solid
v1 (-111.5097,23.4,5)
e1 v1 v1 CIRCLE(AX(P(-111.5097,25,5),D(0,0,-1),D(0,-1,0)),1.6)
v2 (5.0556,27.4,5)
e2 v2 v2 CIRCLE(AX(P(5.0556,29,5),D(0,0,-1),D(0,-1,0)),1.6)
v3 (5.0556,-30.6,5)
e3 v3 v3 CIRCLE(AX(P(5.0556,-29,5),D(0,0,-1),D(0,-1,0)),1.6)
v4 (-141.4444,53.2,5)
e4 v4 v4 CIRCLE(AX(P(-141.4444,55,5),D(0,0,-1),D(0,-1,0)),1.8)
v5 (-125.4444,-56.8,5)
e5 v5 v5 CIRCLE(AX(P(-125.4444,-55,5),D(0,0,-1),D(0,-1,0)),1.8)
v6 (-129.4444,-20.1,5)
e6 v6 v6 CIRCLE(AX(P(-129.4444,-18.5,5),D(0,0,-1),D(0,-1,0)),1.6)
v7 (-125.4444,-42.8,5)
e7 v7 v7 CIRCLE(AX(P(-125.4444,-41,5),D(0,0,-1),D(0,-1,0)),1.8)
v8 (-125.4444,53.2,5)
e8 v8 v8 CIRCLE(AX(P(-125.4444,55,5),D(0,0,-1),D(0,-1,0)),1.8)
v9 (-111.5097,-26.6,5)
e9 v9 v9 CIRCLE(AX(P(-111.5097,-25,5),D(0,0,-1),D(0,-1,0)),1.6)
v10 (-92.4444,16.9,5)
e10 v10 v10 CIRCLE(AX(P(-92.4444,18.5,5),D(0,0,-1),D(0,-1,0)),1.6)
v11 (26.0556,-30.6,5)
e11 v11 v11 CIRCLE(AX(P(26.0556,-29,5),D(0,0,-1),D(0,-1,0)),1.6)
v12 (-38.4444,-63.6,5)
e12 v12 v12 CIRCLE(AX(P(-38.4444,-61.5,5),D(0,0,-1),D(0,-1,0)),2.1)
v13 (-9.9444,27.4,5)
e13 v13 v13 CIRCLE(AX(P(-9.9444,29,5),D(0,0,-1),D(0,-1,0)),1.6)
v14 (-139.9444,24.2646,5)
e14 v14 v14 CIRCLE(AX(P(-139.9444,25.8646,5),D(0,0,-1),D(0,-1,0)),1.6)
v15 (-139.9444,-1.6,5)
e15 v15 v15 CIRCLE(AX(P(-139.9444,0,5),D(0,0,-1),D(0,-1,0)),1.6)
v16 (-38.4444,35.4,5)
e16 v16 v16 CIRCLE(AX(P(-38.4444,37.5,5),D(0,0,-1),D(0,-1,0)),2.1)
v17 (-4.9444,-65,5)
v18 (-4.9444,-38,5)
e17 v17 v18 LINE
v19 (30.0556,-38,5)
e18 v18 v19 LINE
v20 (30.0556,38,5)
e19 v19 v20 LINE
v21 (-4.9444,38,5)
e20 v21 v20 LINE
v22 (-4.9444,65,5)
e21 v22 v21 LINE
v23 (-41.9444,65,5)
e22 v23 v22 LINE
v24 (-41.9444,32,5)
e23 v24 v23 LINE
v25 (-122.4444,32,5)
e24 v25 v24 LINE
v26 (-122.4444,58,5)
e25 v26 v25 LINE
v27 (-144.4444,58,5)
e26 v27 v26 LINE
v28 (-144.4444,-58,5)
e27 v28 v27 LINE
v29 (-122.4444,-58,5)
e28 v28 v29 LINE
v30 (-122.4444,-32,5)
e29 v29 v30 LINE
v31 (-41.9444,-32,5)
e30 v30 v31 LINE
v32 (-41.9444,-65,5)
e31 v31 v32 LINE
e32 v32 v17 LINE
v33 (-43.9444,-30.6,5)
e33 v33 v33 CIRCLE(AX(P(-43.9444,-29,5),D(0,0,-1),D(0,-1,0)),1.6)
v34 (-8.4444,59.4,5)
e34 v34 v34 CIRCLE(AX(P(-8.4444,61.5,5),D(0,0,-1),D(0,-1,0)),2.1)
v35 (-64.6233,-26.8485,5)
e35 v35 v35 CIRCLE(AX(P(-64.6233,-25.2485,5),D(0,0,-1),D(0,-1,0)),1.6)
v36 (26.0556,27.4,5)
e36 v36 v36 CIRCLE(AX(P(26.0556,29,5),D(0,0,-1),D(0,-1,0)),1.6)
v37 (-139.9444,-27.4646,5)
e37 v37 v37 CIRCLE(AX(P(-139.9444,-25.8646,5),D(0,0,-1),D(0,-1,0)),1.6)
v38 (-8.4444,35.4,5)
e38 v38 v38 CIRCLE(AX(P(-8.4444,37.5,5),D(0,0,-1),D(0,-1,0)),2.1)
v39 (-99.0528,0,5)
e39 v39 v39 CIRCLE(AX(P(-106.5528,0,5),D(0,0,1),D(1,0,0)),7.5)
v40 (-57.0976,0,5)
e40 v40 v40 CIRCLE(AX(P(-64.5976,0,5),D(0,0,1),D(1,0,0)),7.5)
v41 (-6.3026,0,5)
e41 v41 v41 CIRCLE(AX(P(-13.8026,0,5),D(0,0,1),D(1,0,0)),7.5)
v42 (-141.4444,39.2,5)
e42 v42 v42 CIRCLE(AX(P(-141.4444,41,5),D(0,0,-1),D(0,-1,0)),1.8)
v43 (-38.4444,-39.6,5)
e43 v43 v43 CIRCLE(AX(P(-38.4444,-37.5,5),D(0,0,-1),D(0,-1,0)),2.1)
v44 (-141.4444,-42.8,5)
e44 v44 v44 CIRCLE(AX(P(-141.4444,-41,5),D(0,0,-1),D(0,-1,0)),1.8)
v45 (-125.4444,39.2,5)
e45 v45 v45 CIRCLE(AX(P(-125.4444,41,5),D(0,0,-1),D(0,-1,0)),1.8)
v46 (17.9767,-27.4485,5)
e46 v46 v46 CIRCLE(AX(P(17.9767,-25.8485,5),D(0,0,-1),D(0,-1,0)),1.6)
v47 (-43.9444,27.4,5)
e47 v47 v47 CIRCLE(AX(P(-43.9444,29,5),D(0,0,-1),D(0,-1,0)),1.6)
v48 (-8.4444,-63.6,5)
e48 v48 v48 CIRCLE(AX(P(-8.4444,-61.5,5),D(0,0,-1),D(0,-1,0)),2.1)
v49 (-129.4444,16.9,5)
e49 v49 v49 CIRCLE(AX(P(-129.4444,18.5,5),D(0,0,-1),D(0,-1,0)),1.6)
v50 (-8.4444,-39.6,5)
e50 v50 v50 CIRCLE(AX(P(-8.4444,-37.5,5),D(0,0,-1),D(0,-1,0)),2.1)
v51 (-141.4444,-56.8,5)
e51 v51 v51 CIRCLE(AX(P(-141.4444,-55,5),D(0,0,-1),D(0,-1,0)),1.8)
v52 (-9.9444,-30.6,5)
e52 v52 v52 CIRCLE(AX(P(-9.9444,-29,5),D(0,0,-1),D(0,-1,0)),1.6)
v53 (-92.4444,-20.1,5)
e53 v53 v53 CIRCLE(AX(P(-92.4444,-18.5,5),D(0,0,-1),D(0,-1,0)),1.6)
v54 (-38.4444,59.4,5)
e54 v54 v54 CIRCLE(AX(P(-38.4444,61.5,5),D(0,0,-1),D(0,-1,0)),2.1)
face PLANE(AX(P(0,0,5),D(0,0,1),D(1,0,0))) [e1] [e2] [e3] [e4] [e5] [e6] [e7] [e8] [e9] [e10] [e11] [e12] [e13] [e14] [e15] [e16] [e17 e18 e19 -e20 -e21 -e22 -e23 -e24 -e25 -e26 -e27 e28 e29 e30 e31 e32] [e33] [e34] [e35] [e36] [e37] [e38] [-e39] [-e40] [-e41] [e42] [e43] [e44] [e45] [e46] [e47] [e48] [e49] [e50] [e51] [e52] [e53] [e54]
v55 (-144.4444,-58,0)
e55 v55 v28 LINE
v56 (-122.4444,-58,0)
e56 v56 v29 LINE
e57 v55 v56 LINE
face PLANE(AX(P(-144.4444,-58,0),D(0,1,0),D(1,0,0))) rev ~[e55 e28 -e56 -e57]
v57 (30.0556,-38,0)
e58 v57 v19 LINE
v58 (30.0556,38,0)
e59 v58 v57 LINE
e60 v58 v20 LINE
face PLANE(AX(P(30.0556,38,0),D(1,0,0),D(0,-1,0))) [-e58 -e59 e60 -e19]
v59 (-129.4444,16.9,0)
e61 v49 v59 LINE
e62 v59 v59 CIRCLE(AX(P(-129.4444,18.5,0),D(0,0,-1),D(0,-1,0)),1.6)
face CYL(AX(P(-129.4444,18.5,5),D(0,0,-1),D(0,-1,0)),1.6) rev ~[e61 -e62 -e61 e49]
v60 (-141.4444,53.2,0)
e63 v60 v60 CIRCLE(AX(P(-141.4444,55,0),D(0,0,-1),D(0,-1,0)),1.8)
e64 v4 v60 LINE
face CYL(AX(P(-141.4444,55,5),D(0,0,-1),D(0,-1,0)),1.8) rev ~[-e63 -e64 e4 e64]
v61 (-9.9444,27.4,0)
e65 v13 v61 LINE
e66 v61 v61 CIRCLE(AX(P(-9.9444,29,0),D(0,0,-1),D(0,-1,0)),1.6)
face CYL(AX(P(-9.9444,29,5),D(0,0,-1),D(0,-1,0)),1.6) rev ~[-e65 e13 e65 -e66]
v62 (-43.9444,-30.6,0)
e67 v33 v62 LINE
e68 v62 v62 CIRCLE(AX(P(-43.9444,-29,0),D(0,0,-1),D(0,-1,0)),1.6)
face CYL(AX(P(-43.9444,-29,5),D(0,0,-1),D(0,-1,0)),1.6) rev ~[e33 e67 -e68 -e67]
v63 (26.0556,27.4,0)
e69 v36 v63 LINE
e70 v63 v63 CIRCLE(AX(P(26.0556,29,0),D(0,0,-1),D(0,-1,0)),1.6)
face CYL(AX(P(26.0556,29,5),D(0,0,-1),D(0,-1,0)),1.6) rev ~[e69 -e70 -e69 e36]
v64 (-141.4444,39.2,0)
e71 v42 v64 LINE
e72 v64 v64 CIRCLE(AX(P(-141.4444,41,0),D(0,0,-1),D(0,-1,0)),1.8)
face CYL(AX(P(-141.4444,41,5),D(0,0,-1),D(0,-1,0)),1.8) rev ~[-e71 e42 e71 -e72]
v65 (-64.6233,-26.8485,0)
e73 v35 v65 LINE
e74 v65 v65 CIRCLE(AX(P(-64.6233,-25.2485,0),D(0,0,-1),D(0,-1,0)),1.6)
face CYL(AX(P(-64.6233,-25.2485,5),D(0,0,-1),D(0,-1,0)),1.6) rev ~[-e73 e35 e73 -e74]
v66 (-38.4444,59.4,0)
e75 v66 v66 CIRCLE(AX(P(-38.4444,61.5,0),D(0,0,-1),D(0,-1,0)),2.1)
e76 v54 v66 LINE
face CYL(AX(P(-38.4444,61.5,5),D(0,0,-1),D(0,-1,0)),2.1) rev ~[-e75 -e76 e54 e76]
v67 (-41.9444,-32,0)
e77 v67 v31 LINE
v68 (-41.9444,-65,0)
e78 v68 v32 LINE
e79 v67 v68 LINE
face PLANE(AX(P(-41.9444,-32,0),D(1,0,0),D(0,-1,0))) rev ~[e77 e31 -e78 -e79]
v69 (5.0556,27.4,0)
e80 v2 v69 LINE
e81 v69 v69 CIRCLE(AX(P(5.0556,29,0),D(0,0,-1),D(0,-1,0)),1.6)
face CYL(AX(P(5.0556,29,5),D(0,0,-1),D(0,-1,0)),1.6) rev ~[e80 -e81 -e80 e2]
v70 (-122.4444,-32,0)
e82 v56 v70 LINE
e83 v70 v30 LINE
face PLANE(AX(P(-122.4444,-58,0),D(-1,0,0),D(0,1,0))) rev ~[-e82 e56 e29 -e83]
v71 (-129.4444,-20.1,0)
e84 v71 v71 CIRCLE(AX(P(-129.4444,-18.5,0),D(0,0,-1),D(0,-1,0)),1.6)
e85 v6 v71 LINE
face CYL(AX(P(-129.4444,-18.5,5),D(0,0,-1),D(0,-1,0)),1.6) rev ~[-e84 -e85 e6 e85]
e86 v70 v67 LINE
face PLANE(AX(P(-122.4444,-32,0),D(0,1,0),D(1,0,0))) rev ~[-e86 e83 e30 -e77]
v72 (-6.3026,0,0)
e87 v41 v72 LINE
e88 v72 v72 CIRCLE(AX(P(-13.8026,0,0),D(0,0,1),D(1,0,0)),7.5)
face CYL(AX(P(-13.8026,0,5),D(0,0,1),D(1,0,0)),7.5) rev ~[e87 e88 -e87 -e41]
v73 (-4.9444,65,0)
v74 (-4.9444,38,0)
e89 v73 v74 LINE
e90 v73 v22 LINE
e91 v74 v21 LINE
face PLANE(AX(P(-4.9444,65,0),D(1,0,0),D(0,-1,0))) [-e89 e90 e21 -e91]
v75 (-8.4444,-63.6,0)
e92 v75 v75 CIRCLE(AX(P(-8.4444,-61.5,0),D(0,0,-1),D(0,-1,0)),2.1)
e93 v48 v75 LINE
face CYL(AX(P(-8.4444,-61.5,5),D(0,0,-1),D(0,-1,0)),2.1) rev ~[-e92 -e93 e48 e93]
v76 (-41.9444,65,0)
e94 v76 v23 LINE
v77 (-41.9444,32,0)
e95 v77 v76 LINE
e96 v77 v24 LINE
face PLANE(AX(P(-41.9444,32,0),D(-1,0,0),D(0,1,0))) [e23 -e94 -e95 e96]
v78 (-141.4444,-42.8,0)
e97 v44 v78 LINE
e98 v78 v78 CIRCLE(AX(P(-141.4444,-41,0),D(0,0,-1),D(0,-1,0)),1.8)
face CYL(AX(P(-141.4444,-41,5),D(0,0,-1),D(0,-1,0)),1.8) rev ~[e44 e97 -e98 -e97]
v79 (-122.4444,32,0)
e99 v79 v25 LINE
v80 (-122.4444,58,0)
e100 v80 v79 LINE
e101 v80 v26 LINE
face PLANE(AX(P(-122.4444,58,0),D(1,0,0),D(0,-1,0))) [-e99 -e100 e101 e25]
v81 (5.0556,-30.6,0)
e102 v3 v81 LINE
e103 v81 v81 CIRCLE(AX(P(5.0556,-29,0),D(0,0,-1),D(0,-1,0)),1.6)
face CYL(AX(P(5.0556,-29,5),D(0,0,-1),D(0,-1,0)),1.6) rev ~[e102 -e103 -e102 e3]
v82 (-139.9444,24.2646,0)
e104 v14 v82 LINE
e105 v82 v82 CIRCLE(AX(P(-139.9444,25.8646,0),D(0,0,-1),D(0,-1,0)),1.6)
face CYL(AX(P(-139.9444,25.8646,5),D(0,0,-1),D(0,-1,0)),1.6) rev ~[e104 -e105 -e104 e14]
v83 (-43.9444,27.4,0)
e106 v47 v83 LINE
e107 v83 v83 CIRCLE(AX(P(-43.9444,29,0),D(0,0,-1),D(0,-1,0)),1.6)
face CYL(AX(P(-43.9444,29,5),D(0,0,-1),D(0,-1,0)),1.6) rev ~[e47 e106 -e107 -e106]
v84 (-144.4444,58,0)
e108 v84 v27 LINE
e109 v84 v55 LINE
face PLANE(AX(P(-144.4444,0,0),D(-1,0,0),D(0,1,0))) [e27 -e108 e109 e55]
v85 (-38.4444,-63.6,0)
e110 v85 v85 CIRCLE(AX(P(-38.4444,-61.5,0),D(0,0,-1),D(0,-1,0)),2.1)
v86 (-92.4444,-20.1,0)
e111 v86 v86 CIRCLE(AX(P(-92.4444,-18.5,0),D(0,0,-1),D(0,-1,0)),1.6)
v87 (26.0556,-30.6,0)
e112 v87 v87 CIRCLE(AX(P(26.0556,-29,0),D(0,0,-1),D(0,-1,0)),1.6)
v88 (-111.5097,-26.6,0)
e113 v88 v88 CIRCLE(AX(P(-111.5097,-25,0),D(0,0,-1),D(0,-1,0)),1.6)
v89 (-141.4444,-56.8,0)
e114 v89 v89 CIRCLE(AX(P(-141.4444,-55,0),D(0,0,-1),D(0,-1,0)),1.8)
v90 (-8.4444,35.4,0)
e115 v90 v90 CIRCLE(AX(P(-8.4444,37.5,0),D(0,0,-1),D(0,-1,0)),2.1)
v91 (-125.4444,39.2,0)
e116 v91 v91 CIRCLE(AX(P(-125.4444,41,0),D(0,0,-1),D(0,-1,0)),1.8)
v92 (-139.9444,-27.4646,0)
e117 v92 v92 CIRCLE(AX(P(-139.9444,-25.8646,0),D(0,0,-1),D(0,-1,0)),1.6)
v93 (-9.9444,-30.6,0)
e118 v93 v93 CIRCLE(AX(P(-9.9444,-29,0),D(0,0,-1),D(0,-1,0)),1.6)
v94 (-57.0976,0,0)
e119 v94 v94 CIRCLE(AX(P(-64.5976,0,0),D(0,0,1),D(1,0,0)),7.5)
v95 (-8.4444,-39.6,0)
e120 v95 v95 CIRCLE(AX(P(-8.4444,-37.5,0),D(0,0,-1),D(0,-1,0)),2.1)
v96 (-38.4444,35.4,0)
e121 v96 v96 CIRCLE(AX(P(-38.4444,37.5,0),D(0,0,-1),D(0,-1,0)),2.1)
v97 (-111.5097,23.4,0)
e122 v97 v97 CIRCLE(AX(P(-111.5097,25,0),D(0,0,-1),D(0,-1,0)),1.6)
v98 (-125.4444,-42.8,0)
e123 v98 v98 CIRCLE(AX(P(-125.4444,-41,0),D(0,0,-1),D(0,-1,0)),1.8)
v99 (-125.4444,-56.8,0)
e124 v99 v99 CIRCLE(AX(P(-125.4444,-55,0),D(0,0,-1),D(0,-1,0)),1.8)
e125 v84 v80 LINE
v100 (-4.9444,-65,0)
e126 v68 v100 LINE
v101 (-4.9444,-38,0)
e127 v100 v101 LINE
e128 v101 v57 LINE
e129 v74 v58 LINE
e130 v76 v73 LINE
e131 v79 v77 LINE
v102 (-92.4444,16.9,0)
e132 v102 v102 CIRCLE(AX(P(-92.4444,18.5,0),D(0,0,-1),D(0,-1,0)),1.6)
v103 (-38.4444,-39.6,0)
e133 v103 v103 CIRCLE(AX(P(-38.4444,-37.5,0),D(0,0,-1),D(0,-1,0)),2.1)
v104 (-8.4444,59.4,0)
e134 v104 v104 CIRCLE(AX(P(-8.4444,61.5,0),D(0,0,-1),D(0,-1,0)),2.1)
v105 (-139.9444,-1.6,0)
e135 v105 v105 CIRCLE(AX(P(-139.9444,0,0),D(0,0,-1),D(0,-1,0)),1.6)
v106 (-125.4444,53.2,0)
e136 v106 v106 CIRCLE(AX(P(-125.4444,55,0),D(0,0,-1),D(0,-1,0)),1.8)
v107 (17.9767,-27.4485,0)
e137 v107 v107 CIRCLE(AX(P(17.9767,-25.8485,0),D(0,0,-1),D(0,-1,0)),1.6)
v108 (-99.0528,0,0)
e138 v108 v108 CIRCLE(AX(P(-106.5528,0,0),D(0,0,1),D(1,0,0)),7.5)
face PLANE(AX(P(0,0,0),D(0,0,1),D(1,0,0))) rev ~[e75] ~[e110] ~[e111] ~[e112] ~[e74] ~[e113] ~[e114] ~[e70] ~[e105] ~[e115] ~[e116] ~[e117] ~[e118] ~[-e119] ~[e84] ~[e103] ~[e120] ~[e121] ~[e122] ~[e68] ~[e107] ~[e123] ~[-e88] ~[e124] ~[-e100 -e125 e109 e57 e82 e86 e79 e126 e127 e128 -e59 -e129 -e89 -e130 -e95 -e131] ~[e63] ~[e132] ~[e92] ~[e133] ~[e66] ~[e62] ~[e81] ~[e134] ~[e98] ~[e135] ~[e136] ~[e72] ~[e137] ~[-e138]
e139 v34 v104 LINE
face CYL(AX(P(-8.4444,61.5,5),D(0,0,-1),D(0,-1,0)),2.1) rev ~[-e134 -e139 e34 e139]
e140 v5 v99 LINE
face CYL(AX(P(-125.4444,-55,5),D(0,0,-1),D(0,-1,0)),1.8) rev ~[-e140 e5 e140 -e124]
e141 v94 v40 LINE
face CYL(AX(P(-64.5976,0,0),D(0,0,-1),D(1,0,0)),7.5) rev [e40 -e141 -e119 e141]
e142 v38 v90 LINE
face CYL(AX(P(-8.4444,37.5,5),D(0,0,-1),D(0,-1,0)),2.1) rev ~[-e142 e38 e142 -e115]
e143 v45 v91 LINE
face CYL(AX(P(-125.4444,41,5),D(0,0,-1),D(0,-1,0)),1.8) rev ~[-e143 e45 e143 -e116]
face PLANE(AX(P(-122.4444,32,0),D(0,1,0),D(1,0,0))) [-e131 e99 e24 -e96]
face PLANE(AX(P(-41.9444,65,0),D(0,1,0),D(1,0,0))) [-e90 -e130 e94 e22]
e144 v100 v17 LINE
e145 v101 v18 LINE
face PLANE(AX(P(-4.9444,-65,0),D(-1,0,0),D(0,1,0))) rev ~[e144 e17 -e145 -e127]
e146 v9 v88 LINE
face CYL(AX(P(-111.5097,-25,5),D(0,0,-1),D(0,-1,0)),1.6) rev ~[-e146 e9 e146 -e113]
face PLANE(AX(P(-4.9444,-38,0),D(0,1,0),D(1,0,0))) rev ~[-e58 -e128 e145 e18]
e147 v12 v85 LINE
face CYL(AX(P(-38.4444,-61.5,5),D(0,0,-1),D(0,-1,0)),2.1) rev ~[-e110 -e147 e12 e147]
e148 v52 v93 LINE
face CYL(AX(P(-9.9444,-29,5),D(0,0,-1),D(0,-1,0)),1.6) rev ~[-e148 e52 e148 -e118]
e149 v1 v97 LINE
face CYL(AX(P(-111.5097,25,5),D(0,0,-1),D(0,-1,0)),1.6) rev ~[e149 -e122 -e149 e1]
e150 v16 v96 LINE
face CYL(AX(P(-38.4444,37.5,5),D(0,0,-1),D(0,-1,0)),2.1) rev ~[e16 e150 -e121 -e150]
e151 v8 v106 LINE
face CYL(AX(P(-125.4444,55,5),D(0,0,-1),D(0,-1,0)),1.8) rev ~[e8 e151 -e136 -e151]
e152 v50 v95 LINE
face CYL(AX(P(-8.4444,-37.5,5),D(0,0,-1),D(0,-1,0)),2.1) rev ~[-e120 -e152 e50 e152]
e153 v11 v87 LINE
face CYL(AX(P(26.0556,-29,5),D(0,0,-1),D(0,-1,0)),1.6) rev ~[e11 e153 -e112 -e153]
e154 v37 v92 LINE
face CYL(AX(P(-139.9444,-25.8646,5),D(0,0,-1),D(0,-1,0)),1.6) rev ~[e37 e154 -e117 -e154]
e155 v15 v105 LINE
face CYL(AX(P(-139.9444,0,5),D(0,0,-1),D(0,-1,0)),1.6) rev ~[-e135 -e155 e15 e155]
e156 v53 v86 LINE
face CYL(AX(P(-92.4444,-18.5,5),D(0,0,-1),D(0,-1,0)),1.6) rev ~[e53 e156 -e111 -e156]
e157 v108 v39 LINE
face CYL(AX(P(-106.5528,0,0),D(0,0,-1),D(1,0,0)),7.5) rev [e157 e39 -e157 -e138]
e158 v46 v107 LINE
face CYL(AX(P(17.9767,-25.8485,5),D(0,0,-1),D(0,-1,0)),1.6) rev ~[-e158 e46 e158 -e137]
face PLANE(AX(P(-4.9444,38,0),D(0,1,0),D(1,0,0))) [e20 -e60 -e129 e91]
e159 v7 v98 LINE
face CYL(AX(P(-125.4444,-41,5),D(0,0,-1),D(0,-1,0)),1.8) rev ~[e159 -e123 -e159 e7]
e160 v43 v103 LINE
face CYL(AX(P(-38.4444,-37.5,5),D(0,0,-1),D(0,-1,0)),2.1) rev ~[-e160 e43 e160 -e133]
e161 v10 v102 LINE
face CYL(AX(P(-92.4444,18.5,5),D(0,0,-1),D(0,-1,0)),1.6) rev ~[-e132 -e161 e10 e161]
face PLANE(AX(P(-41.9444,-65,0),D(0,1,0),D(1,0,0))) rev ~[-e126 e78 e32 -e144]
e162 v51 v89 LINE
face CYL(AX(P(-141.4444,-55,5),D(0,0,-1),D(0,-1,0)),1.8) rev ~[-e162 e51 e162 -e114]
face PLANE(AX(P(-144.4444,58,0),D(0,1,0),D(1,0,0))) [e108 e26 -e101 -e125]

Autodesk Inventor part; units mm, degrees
ref_plane "YZ Plane" through (0, 0, 0) normal (1, 0, 0) x (0, 1, 0)
ref_plane "XZ Plane" through (0, 0, 0) normal (0, 1, 0) x (-1, 0, 0)
ref_plane "XY Plane" through (0, 0, 0) normal (0, 0, 1) x (1, 0, 0)
sketch "草图1" plane through (0, 0, 0) normal (0, 0, 1) x (1, 0, 0)
  line L0 (-144.4444, 0) -> (-144.4444, 58)
  line L1 (-144.4444, 58) -> (-122.4444, 58)
  line L2 (-122.4444, 58) -> (-122.4444, 32)
  line L3 (-122.4444, 32) -> (-41.9444, 32)
  line L4 (-41.9444, 32) -> (-41.9444, 65)
  line L5 (-41.9444, 65) -> (-4.9444, 65)
  line L6 (-4.9444, 65) -> (-4.9444, 38)
  line L7 (-4.9444, 38) -> (30.0556, 38)
  line L8 (30.0556, 38) -> (30.0556, 0)
  line L9 (0, 0) -> (-166.6667, 0) construction
  line L10 (-144.4444, 0) -> (-144.4444, -58)
  line L11 (-144.4444, -58) -> (-122.4444, -58)
  line L12 (-122.4444, -58) -> (-122.4444, -32)
  line L13 (-122.4444, -32) -> (-41.9444, -32)
  line L14 (-41.9444, -32) -> (-41.9444, -65)
  line L15 (-41.9444, -65) -> (-4.9444, -65)
  line L16 (-4.9444, -65) -> (-4.9444, -38)
  line L17 (-4.9444, -38) -> (30.0556, -38)
  line L18 (30.0556, -38) -> (30.0556, 0)
  circle A0 centre (-106.5528, 0) radius 7.5
  circle A1 centre (-64.5976, 0) radius 7.5
  point P0 (-141.4444, -54)
  point P1 (-127.4444, -54)
  point P2 (-27.9137, -54)
  point P3 (-14.1378, -54)
  point P4 (-112.1204, -28)
  point P5 (-64.5976, -28)
  point P6 (-89.6514, -28)
  point P7 (-127.4444, -38)
  point P8 (-141.4444, -38)
  point P9 (-27.9137, -38)
  point P10 (-14.3619, -38)
  point P11 (-141.4444, 54)
  point P12 (-127.4444, 54)
  point P13 (-127.4444, 38)
  point P14 (-141.4444, 38)
  point P15 (-27.9137, 54)
  point P16 (-27.9137, 38)
  point P17 (-14.1378, 54)
  point P18 (-14.3619, 38)
  point P19 (-64.5976, 28)
  point P20 (-89.6514, 28)
  point P21 (-112.1204, 28)
  point P22 (-133.4444, 58)
  point P23 (-23.4444, 65)
  dimension "d0" = 22
  dimension "d1" = 37
  dimension "d3" = 32
  dimension "d4" = 38
  dimension "d5" = 35
  dimension "d6" = 58
  dimension "d7" = 15
  dimension "d8" = 15
  dimension "d29" = 28
  dimension "d30" = 28
  dimension "d31" = 28
  dimension "d36" = 110
  dimension "d96" = 33
extrude "拉伸1" add sketch "草图1" along normal blind 5
sketch "草图2" plane through (0, 0, 5) normal (0, 0, 1) x (1, 0, 0)
  circle A0 centre (-64.5976, 0) radius 7.5 construction
  circle A1 centre (-106.5528, 0) radius 7.5 construction
  line L0 (-144.4444, -58) -> (-144.4444, 58) construction
  line L1 (-144.4444, 58) -> (-122.4444, 58) construction
  line L2 (-122.4444, 58) -> (-122.4444, 32) construction
  line L3 (-122.4444, 32) -> (-41.9444, 32) construction
  line L4 (-41.9444, 32) -> (-41.9444, 65) construction
  line L5 (-41.9444, 65) -> (-4.9444, 65) construction
  line L6 (-4.9444, 65) -> (-4.9444, 38) construction
  line L7 (-4.9444, 38) -> (30.0556, 38) construction
  line L8 (30.0556, 38) -> (30.0556, -38) construction
  line L9 (30.0556, -38) -> (-4.9444, -38) construction
  line L10 (-4.9444, -38) -> (-4.9444, -65) construction
  line L11 (-4.9444, -65) -> (-41.9444, -65) construction
  line L12 (-41.9444, -65) -> (-41.9444, -32) construction
  line L13 (-41.9444, -32) -> (-122.4444, -32) construction
  line L14 (-122.4444, -32) -> (-122.4444, -58) construction
  line L15 (-122.4444, -58) -> (-144.4444, -58) construction
  line L16 (-164.7255, 0) -> (-80.9793, 0) construction
  point P0 (0, 0)
  point P1 (-141.4444, 55)
  point P2 (-125.4444, 55)
  point P3 (-38.4444, 61.5)
  point P4 (-8.4444, 61.5)
  point P5 (-38.4444, 37.5)
  point P6 (-8.4444, 37.5)
  point P7 (-125.4444, 41)
  point P8 (-141.4444, 41)
  point P9 (-141.4444, -55)
  point P10 (-125.4444, -55)
  point P11 (-38.4444, -61.5)
  point P12 (-8.4444, -61.5)
  point P13 (-38.4444, -37.5)
  point P14 (-8.4444, -37.5)
  point P15 (-125.4444, -41)
  point P16 (-141.4444, -41)
  dimension "d32" = 3
  dimension "d33" = 3
  dimension "d34" = 16
  dimension "d37" = 3
  dimension "d38" = 14
  dimension "d39" = 3
  dimension "d40" = 14
  dimension "d42" = 30
  dimension "d43" = 30
  dimension "d44" = 24
  dimension "d45" = 3.5
  dimension "d46" = 3.5
  dimension "d47" = 3.5
  dimension "d95" = 16
hole "孔2" at (-141.4444, 55, 5) at (-125.4444, 55, 5) at (-125.4444, 41, 5) at (-141.4444, 41, 5) at (-141.4444, -41, 5) at (-125.4444, -41, 5) at (-125.4444, -55, 5) at (-141.4444, -55, 5) direction (0, 0, -1) diameter 3.6 end through all
sketch "草图3" plane through (0, 0, 5) normal (0, 0, 1) x (1, 0, 0)
  circle A0 centre (-125.4444, -55) radius 1.8 construction
  circle A1 centre (-141.4444, -55) radius 1.8 construction
  circle A2 centre (-125.4444, 41) radius 1.8 construction
  circle A3 centre (-141.4444, 55) radius 1.8 construction
  circle A4 centre (-125.4444, 55) radius 1.8 construction
  circle A5 centre (-141.4444, 41) radius 1.8 construction
  circle A6 centre (-141.4444, -41) radius 1.8 construction
  circle A7 centre (-125.4444, -41) radius 1.8 construction
  circle A8 centre (-64.5976, 0) radius 7.5 construction
  circle A9 centre (-106.5528, 0) radius 7.5 construction
  line L0 (-144.4444, 58) -> (-144.4444, -58) construction
  line L1 (-144.4444, -58) -> (-122.4444, -58) construction
  line L2 (-122.4444, -58) -> (-122.4444, -32) construction
  line L3 (-122.4444, -32) -> (-41.9444, -32) construction
  line L4 (-41.9444, -32) -> (-41.9444, -65) construction
  line L5 (-41.9444, -65) -> (-4.9444, -65) construction
  line L6 (-4.9444, -65) -> (-4.9444, -38) construction
  line L7 (-4.9444, -38) -> (30.0556, -38) construction
  line L8 (30.0556, -38) -> (30.0556, 38) construction
  line L9 (30.0556, 38) -> (-4.9444, 38) construction
  line L10 (-4.9444, 38) -> (-4.9444, 65) construction
  line L11 (-4.9444, 65) -> (-41.9444, 65) construction
  line L12 (-41.9444, 65) -> (-41.9444, 32) construction
  line L13 (-41.9444, 32) -> (-122.4444, 32) construction
  line L14 (-122.4444, 32) -> (-122.4444, 58) construction
  line L15 (-122.4444, 58) -> (-144.4444, 58) construction
  line L16 (0, 0) -> (-184.5407, 0) construction
  point P0 (-139.9444, 25.8646)
  point P1 (-139.9444, 10.9473)
  point P2 (-108.7515, 25.8646)
  point P3 (-89.9847, 25.8646)
  point P4 (-70.7366, 25.8646)
  point P5 (-139.9444, -25.8646)
  point P6 (-139.9444, -10.9473)
  point P7 (-108.7515, -25.8646)
  point P8 (-89.9847, -25.8646)
  point P9 (-70.7366, -25.8646)
  point P10 (-139.9444, 0)
hole "孔3" at (-139.9444, 25.8646, 5) at (-139.9444, -25.8646, 5) at (-139.9444, 0, 5) direction (0, 0, -1) diameter 3.2 end through all
sketch "草图4" plane through (0, 0, 5) normal (0, 0, 1) x (1, 0, 0)
  circle A0 centre (-13.8026, 0) radius 7.5
  line L0 (0, 0) -> (-54.2498, 0) construction
  line L1 (-144.4444, 58) -> (-144.4444, -58) construction
  line L2 (30.0556, -38) -> (30.0556, 38) construction
  point P0 (-19.9444, 18.5)
  point P1 (17.0556, 18.5)
  point P2 (9.0556, 35)
  point P3 (-19.9444, -18.5)
  point P4 (17.0556, -18.5)
  point P5 (9.0556, -35)
  point P6 (-65.2677, 13.1999)
  point P7 (-65.2677, -14.7401)
  dimension "d62" = 15
  dimension "d67" = 37
  dimension "d68" = 50
  dimension "d69" = 18.5
  dimension "d70" = 35
  dimension "d71" = 21
  dimension "d94" = 27.94
extrude "拉伸2" cut sketch "草图4" against normal through all
sketch "草图5" plane through (0, 0, 5) normal (0, 0, 1) x (1, 0, 0)
  line L0 (30.0556, -38) -> (30.0556, 38) projected
  line L1 (0, 0) -> (-47.6944, 0) construction
  point P0 (26.0556, 29)
  point P1 (-43.9444, 29)
  point P2 (-43.7151, 20)
  point P3 (26.0556, -29)
  point P4 (-43.9444, -29)
  point P5 (-43.7151, -20)
  dimension "d81" = 70
  dimension "d83" = 4
  dimension "d84" = 29
  dimension "d85" = 20
  dimension "d86" = 29
hole "孔5" at (-43.9444, 29, 5) at (-43.9444, -29, 5) at (26.0556, 29, 5) at (26.0556, -29, 5) direction (0, 0, -1) diameter 3.2 end through all
hole "孔6" at (-38.4444, 61.5, 5) at (-8.4444, 61.5, 5) at (-38.4444, 37.5, 5) at (-8.4444, 37.5, 5) at (-38.4444, -37.5, 5) at (-8.4444, -37.5, 5) at (-8.4444, -61.5, 5) at (-38.4444, -61.5, 5) direction (0, 0, -1) diameter 4.2 end through all
sketch "草图6" plane through (0, 0, 5) normal (0, 0, 1) x (1, 0, 0)
  line L0 (-144.4444, 58) -> (-144.4444, -58) projected
  line L1 (0, 0) -> (-40.7503, 0) construction
  point P0 (-129.4444, 18.5)
  point P1 (-92.4444, 18.5)
  point P2 (-129.4444, -18.5)
  point P3 (-92.4444, -18.5)
  dimension "d104" = 15
  dimension "d105" = 37
  dimension "d106" = 18.5
  dimension "d107" = 18.5
hole "孔7" at (-129.4444, 18.5, 5) at (-92.4444, 18.5, 5) at (-129.4444, -18.5, 5) at (-92.4444, -18.5, 5) direction (0, 0, -1) diameter 3.2 end through all
sketch "草图7" plane through (0, 0, 5) normal (0, 0, 1) x (1, 0, 0)
  point P0 (0, 0)
  point P1 (11.1767, 22.7515)
  point P2 (17.9767, -25.8485)
  point P3 (-62.1233, 22.7515)
  point P4 (-64.6233, -25.2485)
  dimension "d115" = 48.6
  dimension "d116" = 6.8
  dimension "d117" = 73.3
  dimension "d118" = 48
  dimension "d119" = 2.5
hole "孔8" at (-64.6233, -25.2485, 5) at (17.9767, -25.8485, 5) direction (0, 0, -1) diameter 3.2 end through all
sketch "草图8" plane through (0, 0, 5) normal (0, 0, 1) x (1, 0, 0)
  line L0 (30.0556, 38) -> (-4.9444, 38) projected
  line L1 (0, 0) -> (93.7016, 0) construction
  line L2 (30.0556, -38) -> (30.0556, 38) projected
  line L3 (-41.9444, 32) -> (-122.4444, 32) projected
  point P0 (5.0556, 29)
  point P1 (-9.9444, 29)
  point P2 (5.0556, -29)
  point P3 (-9.9444, -29)
  point P4 (-111.5097, 25)
  point P5 (-111.5097, -25)
  dimension "d127" = 15
  dimension "d128" = 9
  dimension "d129" = 9
  dimension "d137" = 25
  dimension "d138" = 7
hole "孔9" at (5.0556, 29, 5) at (-9.9444, 29, 5) at (-9.9444, -29, 5) at (5.0556, -29, 5) at (-111.5097, 25, 5) at (-111.5097, -25, 5) direction (0, 0, -1) diameter 3.2 end through all
properties part number "底盘4.0" material "尼龙 6/6"
